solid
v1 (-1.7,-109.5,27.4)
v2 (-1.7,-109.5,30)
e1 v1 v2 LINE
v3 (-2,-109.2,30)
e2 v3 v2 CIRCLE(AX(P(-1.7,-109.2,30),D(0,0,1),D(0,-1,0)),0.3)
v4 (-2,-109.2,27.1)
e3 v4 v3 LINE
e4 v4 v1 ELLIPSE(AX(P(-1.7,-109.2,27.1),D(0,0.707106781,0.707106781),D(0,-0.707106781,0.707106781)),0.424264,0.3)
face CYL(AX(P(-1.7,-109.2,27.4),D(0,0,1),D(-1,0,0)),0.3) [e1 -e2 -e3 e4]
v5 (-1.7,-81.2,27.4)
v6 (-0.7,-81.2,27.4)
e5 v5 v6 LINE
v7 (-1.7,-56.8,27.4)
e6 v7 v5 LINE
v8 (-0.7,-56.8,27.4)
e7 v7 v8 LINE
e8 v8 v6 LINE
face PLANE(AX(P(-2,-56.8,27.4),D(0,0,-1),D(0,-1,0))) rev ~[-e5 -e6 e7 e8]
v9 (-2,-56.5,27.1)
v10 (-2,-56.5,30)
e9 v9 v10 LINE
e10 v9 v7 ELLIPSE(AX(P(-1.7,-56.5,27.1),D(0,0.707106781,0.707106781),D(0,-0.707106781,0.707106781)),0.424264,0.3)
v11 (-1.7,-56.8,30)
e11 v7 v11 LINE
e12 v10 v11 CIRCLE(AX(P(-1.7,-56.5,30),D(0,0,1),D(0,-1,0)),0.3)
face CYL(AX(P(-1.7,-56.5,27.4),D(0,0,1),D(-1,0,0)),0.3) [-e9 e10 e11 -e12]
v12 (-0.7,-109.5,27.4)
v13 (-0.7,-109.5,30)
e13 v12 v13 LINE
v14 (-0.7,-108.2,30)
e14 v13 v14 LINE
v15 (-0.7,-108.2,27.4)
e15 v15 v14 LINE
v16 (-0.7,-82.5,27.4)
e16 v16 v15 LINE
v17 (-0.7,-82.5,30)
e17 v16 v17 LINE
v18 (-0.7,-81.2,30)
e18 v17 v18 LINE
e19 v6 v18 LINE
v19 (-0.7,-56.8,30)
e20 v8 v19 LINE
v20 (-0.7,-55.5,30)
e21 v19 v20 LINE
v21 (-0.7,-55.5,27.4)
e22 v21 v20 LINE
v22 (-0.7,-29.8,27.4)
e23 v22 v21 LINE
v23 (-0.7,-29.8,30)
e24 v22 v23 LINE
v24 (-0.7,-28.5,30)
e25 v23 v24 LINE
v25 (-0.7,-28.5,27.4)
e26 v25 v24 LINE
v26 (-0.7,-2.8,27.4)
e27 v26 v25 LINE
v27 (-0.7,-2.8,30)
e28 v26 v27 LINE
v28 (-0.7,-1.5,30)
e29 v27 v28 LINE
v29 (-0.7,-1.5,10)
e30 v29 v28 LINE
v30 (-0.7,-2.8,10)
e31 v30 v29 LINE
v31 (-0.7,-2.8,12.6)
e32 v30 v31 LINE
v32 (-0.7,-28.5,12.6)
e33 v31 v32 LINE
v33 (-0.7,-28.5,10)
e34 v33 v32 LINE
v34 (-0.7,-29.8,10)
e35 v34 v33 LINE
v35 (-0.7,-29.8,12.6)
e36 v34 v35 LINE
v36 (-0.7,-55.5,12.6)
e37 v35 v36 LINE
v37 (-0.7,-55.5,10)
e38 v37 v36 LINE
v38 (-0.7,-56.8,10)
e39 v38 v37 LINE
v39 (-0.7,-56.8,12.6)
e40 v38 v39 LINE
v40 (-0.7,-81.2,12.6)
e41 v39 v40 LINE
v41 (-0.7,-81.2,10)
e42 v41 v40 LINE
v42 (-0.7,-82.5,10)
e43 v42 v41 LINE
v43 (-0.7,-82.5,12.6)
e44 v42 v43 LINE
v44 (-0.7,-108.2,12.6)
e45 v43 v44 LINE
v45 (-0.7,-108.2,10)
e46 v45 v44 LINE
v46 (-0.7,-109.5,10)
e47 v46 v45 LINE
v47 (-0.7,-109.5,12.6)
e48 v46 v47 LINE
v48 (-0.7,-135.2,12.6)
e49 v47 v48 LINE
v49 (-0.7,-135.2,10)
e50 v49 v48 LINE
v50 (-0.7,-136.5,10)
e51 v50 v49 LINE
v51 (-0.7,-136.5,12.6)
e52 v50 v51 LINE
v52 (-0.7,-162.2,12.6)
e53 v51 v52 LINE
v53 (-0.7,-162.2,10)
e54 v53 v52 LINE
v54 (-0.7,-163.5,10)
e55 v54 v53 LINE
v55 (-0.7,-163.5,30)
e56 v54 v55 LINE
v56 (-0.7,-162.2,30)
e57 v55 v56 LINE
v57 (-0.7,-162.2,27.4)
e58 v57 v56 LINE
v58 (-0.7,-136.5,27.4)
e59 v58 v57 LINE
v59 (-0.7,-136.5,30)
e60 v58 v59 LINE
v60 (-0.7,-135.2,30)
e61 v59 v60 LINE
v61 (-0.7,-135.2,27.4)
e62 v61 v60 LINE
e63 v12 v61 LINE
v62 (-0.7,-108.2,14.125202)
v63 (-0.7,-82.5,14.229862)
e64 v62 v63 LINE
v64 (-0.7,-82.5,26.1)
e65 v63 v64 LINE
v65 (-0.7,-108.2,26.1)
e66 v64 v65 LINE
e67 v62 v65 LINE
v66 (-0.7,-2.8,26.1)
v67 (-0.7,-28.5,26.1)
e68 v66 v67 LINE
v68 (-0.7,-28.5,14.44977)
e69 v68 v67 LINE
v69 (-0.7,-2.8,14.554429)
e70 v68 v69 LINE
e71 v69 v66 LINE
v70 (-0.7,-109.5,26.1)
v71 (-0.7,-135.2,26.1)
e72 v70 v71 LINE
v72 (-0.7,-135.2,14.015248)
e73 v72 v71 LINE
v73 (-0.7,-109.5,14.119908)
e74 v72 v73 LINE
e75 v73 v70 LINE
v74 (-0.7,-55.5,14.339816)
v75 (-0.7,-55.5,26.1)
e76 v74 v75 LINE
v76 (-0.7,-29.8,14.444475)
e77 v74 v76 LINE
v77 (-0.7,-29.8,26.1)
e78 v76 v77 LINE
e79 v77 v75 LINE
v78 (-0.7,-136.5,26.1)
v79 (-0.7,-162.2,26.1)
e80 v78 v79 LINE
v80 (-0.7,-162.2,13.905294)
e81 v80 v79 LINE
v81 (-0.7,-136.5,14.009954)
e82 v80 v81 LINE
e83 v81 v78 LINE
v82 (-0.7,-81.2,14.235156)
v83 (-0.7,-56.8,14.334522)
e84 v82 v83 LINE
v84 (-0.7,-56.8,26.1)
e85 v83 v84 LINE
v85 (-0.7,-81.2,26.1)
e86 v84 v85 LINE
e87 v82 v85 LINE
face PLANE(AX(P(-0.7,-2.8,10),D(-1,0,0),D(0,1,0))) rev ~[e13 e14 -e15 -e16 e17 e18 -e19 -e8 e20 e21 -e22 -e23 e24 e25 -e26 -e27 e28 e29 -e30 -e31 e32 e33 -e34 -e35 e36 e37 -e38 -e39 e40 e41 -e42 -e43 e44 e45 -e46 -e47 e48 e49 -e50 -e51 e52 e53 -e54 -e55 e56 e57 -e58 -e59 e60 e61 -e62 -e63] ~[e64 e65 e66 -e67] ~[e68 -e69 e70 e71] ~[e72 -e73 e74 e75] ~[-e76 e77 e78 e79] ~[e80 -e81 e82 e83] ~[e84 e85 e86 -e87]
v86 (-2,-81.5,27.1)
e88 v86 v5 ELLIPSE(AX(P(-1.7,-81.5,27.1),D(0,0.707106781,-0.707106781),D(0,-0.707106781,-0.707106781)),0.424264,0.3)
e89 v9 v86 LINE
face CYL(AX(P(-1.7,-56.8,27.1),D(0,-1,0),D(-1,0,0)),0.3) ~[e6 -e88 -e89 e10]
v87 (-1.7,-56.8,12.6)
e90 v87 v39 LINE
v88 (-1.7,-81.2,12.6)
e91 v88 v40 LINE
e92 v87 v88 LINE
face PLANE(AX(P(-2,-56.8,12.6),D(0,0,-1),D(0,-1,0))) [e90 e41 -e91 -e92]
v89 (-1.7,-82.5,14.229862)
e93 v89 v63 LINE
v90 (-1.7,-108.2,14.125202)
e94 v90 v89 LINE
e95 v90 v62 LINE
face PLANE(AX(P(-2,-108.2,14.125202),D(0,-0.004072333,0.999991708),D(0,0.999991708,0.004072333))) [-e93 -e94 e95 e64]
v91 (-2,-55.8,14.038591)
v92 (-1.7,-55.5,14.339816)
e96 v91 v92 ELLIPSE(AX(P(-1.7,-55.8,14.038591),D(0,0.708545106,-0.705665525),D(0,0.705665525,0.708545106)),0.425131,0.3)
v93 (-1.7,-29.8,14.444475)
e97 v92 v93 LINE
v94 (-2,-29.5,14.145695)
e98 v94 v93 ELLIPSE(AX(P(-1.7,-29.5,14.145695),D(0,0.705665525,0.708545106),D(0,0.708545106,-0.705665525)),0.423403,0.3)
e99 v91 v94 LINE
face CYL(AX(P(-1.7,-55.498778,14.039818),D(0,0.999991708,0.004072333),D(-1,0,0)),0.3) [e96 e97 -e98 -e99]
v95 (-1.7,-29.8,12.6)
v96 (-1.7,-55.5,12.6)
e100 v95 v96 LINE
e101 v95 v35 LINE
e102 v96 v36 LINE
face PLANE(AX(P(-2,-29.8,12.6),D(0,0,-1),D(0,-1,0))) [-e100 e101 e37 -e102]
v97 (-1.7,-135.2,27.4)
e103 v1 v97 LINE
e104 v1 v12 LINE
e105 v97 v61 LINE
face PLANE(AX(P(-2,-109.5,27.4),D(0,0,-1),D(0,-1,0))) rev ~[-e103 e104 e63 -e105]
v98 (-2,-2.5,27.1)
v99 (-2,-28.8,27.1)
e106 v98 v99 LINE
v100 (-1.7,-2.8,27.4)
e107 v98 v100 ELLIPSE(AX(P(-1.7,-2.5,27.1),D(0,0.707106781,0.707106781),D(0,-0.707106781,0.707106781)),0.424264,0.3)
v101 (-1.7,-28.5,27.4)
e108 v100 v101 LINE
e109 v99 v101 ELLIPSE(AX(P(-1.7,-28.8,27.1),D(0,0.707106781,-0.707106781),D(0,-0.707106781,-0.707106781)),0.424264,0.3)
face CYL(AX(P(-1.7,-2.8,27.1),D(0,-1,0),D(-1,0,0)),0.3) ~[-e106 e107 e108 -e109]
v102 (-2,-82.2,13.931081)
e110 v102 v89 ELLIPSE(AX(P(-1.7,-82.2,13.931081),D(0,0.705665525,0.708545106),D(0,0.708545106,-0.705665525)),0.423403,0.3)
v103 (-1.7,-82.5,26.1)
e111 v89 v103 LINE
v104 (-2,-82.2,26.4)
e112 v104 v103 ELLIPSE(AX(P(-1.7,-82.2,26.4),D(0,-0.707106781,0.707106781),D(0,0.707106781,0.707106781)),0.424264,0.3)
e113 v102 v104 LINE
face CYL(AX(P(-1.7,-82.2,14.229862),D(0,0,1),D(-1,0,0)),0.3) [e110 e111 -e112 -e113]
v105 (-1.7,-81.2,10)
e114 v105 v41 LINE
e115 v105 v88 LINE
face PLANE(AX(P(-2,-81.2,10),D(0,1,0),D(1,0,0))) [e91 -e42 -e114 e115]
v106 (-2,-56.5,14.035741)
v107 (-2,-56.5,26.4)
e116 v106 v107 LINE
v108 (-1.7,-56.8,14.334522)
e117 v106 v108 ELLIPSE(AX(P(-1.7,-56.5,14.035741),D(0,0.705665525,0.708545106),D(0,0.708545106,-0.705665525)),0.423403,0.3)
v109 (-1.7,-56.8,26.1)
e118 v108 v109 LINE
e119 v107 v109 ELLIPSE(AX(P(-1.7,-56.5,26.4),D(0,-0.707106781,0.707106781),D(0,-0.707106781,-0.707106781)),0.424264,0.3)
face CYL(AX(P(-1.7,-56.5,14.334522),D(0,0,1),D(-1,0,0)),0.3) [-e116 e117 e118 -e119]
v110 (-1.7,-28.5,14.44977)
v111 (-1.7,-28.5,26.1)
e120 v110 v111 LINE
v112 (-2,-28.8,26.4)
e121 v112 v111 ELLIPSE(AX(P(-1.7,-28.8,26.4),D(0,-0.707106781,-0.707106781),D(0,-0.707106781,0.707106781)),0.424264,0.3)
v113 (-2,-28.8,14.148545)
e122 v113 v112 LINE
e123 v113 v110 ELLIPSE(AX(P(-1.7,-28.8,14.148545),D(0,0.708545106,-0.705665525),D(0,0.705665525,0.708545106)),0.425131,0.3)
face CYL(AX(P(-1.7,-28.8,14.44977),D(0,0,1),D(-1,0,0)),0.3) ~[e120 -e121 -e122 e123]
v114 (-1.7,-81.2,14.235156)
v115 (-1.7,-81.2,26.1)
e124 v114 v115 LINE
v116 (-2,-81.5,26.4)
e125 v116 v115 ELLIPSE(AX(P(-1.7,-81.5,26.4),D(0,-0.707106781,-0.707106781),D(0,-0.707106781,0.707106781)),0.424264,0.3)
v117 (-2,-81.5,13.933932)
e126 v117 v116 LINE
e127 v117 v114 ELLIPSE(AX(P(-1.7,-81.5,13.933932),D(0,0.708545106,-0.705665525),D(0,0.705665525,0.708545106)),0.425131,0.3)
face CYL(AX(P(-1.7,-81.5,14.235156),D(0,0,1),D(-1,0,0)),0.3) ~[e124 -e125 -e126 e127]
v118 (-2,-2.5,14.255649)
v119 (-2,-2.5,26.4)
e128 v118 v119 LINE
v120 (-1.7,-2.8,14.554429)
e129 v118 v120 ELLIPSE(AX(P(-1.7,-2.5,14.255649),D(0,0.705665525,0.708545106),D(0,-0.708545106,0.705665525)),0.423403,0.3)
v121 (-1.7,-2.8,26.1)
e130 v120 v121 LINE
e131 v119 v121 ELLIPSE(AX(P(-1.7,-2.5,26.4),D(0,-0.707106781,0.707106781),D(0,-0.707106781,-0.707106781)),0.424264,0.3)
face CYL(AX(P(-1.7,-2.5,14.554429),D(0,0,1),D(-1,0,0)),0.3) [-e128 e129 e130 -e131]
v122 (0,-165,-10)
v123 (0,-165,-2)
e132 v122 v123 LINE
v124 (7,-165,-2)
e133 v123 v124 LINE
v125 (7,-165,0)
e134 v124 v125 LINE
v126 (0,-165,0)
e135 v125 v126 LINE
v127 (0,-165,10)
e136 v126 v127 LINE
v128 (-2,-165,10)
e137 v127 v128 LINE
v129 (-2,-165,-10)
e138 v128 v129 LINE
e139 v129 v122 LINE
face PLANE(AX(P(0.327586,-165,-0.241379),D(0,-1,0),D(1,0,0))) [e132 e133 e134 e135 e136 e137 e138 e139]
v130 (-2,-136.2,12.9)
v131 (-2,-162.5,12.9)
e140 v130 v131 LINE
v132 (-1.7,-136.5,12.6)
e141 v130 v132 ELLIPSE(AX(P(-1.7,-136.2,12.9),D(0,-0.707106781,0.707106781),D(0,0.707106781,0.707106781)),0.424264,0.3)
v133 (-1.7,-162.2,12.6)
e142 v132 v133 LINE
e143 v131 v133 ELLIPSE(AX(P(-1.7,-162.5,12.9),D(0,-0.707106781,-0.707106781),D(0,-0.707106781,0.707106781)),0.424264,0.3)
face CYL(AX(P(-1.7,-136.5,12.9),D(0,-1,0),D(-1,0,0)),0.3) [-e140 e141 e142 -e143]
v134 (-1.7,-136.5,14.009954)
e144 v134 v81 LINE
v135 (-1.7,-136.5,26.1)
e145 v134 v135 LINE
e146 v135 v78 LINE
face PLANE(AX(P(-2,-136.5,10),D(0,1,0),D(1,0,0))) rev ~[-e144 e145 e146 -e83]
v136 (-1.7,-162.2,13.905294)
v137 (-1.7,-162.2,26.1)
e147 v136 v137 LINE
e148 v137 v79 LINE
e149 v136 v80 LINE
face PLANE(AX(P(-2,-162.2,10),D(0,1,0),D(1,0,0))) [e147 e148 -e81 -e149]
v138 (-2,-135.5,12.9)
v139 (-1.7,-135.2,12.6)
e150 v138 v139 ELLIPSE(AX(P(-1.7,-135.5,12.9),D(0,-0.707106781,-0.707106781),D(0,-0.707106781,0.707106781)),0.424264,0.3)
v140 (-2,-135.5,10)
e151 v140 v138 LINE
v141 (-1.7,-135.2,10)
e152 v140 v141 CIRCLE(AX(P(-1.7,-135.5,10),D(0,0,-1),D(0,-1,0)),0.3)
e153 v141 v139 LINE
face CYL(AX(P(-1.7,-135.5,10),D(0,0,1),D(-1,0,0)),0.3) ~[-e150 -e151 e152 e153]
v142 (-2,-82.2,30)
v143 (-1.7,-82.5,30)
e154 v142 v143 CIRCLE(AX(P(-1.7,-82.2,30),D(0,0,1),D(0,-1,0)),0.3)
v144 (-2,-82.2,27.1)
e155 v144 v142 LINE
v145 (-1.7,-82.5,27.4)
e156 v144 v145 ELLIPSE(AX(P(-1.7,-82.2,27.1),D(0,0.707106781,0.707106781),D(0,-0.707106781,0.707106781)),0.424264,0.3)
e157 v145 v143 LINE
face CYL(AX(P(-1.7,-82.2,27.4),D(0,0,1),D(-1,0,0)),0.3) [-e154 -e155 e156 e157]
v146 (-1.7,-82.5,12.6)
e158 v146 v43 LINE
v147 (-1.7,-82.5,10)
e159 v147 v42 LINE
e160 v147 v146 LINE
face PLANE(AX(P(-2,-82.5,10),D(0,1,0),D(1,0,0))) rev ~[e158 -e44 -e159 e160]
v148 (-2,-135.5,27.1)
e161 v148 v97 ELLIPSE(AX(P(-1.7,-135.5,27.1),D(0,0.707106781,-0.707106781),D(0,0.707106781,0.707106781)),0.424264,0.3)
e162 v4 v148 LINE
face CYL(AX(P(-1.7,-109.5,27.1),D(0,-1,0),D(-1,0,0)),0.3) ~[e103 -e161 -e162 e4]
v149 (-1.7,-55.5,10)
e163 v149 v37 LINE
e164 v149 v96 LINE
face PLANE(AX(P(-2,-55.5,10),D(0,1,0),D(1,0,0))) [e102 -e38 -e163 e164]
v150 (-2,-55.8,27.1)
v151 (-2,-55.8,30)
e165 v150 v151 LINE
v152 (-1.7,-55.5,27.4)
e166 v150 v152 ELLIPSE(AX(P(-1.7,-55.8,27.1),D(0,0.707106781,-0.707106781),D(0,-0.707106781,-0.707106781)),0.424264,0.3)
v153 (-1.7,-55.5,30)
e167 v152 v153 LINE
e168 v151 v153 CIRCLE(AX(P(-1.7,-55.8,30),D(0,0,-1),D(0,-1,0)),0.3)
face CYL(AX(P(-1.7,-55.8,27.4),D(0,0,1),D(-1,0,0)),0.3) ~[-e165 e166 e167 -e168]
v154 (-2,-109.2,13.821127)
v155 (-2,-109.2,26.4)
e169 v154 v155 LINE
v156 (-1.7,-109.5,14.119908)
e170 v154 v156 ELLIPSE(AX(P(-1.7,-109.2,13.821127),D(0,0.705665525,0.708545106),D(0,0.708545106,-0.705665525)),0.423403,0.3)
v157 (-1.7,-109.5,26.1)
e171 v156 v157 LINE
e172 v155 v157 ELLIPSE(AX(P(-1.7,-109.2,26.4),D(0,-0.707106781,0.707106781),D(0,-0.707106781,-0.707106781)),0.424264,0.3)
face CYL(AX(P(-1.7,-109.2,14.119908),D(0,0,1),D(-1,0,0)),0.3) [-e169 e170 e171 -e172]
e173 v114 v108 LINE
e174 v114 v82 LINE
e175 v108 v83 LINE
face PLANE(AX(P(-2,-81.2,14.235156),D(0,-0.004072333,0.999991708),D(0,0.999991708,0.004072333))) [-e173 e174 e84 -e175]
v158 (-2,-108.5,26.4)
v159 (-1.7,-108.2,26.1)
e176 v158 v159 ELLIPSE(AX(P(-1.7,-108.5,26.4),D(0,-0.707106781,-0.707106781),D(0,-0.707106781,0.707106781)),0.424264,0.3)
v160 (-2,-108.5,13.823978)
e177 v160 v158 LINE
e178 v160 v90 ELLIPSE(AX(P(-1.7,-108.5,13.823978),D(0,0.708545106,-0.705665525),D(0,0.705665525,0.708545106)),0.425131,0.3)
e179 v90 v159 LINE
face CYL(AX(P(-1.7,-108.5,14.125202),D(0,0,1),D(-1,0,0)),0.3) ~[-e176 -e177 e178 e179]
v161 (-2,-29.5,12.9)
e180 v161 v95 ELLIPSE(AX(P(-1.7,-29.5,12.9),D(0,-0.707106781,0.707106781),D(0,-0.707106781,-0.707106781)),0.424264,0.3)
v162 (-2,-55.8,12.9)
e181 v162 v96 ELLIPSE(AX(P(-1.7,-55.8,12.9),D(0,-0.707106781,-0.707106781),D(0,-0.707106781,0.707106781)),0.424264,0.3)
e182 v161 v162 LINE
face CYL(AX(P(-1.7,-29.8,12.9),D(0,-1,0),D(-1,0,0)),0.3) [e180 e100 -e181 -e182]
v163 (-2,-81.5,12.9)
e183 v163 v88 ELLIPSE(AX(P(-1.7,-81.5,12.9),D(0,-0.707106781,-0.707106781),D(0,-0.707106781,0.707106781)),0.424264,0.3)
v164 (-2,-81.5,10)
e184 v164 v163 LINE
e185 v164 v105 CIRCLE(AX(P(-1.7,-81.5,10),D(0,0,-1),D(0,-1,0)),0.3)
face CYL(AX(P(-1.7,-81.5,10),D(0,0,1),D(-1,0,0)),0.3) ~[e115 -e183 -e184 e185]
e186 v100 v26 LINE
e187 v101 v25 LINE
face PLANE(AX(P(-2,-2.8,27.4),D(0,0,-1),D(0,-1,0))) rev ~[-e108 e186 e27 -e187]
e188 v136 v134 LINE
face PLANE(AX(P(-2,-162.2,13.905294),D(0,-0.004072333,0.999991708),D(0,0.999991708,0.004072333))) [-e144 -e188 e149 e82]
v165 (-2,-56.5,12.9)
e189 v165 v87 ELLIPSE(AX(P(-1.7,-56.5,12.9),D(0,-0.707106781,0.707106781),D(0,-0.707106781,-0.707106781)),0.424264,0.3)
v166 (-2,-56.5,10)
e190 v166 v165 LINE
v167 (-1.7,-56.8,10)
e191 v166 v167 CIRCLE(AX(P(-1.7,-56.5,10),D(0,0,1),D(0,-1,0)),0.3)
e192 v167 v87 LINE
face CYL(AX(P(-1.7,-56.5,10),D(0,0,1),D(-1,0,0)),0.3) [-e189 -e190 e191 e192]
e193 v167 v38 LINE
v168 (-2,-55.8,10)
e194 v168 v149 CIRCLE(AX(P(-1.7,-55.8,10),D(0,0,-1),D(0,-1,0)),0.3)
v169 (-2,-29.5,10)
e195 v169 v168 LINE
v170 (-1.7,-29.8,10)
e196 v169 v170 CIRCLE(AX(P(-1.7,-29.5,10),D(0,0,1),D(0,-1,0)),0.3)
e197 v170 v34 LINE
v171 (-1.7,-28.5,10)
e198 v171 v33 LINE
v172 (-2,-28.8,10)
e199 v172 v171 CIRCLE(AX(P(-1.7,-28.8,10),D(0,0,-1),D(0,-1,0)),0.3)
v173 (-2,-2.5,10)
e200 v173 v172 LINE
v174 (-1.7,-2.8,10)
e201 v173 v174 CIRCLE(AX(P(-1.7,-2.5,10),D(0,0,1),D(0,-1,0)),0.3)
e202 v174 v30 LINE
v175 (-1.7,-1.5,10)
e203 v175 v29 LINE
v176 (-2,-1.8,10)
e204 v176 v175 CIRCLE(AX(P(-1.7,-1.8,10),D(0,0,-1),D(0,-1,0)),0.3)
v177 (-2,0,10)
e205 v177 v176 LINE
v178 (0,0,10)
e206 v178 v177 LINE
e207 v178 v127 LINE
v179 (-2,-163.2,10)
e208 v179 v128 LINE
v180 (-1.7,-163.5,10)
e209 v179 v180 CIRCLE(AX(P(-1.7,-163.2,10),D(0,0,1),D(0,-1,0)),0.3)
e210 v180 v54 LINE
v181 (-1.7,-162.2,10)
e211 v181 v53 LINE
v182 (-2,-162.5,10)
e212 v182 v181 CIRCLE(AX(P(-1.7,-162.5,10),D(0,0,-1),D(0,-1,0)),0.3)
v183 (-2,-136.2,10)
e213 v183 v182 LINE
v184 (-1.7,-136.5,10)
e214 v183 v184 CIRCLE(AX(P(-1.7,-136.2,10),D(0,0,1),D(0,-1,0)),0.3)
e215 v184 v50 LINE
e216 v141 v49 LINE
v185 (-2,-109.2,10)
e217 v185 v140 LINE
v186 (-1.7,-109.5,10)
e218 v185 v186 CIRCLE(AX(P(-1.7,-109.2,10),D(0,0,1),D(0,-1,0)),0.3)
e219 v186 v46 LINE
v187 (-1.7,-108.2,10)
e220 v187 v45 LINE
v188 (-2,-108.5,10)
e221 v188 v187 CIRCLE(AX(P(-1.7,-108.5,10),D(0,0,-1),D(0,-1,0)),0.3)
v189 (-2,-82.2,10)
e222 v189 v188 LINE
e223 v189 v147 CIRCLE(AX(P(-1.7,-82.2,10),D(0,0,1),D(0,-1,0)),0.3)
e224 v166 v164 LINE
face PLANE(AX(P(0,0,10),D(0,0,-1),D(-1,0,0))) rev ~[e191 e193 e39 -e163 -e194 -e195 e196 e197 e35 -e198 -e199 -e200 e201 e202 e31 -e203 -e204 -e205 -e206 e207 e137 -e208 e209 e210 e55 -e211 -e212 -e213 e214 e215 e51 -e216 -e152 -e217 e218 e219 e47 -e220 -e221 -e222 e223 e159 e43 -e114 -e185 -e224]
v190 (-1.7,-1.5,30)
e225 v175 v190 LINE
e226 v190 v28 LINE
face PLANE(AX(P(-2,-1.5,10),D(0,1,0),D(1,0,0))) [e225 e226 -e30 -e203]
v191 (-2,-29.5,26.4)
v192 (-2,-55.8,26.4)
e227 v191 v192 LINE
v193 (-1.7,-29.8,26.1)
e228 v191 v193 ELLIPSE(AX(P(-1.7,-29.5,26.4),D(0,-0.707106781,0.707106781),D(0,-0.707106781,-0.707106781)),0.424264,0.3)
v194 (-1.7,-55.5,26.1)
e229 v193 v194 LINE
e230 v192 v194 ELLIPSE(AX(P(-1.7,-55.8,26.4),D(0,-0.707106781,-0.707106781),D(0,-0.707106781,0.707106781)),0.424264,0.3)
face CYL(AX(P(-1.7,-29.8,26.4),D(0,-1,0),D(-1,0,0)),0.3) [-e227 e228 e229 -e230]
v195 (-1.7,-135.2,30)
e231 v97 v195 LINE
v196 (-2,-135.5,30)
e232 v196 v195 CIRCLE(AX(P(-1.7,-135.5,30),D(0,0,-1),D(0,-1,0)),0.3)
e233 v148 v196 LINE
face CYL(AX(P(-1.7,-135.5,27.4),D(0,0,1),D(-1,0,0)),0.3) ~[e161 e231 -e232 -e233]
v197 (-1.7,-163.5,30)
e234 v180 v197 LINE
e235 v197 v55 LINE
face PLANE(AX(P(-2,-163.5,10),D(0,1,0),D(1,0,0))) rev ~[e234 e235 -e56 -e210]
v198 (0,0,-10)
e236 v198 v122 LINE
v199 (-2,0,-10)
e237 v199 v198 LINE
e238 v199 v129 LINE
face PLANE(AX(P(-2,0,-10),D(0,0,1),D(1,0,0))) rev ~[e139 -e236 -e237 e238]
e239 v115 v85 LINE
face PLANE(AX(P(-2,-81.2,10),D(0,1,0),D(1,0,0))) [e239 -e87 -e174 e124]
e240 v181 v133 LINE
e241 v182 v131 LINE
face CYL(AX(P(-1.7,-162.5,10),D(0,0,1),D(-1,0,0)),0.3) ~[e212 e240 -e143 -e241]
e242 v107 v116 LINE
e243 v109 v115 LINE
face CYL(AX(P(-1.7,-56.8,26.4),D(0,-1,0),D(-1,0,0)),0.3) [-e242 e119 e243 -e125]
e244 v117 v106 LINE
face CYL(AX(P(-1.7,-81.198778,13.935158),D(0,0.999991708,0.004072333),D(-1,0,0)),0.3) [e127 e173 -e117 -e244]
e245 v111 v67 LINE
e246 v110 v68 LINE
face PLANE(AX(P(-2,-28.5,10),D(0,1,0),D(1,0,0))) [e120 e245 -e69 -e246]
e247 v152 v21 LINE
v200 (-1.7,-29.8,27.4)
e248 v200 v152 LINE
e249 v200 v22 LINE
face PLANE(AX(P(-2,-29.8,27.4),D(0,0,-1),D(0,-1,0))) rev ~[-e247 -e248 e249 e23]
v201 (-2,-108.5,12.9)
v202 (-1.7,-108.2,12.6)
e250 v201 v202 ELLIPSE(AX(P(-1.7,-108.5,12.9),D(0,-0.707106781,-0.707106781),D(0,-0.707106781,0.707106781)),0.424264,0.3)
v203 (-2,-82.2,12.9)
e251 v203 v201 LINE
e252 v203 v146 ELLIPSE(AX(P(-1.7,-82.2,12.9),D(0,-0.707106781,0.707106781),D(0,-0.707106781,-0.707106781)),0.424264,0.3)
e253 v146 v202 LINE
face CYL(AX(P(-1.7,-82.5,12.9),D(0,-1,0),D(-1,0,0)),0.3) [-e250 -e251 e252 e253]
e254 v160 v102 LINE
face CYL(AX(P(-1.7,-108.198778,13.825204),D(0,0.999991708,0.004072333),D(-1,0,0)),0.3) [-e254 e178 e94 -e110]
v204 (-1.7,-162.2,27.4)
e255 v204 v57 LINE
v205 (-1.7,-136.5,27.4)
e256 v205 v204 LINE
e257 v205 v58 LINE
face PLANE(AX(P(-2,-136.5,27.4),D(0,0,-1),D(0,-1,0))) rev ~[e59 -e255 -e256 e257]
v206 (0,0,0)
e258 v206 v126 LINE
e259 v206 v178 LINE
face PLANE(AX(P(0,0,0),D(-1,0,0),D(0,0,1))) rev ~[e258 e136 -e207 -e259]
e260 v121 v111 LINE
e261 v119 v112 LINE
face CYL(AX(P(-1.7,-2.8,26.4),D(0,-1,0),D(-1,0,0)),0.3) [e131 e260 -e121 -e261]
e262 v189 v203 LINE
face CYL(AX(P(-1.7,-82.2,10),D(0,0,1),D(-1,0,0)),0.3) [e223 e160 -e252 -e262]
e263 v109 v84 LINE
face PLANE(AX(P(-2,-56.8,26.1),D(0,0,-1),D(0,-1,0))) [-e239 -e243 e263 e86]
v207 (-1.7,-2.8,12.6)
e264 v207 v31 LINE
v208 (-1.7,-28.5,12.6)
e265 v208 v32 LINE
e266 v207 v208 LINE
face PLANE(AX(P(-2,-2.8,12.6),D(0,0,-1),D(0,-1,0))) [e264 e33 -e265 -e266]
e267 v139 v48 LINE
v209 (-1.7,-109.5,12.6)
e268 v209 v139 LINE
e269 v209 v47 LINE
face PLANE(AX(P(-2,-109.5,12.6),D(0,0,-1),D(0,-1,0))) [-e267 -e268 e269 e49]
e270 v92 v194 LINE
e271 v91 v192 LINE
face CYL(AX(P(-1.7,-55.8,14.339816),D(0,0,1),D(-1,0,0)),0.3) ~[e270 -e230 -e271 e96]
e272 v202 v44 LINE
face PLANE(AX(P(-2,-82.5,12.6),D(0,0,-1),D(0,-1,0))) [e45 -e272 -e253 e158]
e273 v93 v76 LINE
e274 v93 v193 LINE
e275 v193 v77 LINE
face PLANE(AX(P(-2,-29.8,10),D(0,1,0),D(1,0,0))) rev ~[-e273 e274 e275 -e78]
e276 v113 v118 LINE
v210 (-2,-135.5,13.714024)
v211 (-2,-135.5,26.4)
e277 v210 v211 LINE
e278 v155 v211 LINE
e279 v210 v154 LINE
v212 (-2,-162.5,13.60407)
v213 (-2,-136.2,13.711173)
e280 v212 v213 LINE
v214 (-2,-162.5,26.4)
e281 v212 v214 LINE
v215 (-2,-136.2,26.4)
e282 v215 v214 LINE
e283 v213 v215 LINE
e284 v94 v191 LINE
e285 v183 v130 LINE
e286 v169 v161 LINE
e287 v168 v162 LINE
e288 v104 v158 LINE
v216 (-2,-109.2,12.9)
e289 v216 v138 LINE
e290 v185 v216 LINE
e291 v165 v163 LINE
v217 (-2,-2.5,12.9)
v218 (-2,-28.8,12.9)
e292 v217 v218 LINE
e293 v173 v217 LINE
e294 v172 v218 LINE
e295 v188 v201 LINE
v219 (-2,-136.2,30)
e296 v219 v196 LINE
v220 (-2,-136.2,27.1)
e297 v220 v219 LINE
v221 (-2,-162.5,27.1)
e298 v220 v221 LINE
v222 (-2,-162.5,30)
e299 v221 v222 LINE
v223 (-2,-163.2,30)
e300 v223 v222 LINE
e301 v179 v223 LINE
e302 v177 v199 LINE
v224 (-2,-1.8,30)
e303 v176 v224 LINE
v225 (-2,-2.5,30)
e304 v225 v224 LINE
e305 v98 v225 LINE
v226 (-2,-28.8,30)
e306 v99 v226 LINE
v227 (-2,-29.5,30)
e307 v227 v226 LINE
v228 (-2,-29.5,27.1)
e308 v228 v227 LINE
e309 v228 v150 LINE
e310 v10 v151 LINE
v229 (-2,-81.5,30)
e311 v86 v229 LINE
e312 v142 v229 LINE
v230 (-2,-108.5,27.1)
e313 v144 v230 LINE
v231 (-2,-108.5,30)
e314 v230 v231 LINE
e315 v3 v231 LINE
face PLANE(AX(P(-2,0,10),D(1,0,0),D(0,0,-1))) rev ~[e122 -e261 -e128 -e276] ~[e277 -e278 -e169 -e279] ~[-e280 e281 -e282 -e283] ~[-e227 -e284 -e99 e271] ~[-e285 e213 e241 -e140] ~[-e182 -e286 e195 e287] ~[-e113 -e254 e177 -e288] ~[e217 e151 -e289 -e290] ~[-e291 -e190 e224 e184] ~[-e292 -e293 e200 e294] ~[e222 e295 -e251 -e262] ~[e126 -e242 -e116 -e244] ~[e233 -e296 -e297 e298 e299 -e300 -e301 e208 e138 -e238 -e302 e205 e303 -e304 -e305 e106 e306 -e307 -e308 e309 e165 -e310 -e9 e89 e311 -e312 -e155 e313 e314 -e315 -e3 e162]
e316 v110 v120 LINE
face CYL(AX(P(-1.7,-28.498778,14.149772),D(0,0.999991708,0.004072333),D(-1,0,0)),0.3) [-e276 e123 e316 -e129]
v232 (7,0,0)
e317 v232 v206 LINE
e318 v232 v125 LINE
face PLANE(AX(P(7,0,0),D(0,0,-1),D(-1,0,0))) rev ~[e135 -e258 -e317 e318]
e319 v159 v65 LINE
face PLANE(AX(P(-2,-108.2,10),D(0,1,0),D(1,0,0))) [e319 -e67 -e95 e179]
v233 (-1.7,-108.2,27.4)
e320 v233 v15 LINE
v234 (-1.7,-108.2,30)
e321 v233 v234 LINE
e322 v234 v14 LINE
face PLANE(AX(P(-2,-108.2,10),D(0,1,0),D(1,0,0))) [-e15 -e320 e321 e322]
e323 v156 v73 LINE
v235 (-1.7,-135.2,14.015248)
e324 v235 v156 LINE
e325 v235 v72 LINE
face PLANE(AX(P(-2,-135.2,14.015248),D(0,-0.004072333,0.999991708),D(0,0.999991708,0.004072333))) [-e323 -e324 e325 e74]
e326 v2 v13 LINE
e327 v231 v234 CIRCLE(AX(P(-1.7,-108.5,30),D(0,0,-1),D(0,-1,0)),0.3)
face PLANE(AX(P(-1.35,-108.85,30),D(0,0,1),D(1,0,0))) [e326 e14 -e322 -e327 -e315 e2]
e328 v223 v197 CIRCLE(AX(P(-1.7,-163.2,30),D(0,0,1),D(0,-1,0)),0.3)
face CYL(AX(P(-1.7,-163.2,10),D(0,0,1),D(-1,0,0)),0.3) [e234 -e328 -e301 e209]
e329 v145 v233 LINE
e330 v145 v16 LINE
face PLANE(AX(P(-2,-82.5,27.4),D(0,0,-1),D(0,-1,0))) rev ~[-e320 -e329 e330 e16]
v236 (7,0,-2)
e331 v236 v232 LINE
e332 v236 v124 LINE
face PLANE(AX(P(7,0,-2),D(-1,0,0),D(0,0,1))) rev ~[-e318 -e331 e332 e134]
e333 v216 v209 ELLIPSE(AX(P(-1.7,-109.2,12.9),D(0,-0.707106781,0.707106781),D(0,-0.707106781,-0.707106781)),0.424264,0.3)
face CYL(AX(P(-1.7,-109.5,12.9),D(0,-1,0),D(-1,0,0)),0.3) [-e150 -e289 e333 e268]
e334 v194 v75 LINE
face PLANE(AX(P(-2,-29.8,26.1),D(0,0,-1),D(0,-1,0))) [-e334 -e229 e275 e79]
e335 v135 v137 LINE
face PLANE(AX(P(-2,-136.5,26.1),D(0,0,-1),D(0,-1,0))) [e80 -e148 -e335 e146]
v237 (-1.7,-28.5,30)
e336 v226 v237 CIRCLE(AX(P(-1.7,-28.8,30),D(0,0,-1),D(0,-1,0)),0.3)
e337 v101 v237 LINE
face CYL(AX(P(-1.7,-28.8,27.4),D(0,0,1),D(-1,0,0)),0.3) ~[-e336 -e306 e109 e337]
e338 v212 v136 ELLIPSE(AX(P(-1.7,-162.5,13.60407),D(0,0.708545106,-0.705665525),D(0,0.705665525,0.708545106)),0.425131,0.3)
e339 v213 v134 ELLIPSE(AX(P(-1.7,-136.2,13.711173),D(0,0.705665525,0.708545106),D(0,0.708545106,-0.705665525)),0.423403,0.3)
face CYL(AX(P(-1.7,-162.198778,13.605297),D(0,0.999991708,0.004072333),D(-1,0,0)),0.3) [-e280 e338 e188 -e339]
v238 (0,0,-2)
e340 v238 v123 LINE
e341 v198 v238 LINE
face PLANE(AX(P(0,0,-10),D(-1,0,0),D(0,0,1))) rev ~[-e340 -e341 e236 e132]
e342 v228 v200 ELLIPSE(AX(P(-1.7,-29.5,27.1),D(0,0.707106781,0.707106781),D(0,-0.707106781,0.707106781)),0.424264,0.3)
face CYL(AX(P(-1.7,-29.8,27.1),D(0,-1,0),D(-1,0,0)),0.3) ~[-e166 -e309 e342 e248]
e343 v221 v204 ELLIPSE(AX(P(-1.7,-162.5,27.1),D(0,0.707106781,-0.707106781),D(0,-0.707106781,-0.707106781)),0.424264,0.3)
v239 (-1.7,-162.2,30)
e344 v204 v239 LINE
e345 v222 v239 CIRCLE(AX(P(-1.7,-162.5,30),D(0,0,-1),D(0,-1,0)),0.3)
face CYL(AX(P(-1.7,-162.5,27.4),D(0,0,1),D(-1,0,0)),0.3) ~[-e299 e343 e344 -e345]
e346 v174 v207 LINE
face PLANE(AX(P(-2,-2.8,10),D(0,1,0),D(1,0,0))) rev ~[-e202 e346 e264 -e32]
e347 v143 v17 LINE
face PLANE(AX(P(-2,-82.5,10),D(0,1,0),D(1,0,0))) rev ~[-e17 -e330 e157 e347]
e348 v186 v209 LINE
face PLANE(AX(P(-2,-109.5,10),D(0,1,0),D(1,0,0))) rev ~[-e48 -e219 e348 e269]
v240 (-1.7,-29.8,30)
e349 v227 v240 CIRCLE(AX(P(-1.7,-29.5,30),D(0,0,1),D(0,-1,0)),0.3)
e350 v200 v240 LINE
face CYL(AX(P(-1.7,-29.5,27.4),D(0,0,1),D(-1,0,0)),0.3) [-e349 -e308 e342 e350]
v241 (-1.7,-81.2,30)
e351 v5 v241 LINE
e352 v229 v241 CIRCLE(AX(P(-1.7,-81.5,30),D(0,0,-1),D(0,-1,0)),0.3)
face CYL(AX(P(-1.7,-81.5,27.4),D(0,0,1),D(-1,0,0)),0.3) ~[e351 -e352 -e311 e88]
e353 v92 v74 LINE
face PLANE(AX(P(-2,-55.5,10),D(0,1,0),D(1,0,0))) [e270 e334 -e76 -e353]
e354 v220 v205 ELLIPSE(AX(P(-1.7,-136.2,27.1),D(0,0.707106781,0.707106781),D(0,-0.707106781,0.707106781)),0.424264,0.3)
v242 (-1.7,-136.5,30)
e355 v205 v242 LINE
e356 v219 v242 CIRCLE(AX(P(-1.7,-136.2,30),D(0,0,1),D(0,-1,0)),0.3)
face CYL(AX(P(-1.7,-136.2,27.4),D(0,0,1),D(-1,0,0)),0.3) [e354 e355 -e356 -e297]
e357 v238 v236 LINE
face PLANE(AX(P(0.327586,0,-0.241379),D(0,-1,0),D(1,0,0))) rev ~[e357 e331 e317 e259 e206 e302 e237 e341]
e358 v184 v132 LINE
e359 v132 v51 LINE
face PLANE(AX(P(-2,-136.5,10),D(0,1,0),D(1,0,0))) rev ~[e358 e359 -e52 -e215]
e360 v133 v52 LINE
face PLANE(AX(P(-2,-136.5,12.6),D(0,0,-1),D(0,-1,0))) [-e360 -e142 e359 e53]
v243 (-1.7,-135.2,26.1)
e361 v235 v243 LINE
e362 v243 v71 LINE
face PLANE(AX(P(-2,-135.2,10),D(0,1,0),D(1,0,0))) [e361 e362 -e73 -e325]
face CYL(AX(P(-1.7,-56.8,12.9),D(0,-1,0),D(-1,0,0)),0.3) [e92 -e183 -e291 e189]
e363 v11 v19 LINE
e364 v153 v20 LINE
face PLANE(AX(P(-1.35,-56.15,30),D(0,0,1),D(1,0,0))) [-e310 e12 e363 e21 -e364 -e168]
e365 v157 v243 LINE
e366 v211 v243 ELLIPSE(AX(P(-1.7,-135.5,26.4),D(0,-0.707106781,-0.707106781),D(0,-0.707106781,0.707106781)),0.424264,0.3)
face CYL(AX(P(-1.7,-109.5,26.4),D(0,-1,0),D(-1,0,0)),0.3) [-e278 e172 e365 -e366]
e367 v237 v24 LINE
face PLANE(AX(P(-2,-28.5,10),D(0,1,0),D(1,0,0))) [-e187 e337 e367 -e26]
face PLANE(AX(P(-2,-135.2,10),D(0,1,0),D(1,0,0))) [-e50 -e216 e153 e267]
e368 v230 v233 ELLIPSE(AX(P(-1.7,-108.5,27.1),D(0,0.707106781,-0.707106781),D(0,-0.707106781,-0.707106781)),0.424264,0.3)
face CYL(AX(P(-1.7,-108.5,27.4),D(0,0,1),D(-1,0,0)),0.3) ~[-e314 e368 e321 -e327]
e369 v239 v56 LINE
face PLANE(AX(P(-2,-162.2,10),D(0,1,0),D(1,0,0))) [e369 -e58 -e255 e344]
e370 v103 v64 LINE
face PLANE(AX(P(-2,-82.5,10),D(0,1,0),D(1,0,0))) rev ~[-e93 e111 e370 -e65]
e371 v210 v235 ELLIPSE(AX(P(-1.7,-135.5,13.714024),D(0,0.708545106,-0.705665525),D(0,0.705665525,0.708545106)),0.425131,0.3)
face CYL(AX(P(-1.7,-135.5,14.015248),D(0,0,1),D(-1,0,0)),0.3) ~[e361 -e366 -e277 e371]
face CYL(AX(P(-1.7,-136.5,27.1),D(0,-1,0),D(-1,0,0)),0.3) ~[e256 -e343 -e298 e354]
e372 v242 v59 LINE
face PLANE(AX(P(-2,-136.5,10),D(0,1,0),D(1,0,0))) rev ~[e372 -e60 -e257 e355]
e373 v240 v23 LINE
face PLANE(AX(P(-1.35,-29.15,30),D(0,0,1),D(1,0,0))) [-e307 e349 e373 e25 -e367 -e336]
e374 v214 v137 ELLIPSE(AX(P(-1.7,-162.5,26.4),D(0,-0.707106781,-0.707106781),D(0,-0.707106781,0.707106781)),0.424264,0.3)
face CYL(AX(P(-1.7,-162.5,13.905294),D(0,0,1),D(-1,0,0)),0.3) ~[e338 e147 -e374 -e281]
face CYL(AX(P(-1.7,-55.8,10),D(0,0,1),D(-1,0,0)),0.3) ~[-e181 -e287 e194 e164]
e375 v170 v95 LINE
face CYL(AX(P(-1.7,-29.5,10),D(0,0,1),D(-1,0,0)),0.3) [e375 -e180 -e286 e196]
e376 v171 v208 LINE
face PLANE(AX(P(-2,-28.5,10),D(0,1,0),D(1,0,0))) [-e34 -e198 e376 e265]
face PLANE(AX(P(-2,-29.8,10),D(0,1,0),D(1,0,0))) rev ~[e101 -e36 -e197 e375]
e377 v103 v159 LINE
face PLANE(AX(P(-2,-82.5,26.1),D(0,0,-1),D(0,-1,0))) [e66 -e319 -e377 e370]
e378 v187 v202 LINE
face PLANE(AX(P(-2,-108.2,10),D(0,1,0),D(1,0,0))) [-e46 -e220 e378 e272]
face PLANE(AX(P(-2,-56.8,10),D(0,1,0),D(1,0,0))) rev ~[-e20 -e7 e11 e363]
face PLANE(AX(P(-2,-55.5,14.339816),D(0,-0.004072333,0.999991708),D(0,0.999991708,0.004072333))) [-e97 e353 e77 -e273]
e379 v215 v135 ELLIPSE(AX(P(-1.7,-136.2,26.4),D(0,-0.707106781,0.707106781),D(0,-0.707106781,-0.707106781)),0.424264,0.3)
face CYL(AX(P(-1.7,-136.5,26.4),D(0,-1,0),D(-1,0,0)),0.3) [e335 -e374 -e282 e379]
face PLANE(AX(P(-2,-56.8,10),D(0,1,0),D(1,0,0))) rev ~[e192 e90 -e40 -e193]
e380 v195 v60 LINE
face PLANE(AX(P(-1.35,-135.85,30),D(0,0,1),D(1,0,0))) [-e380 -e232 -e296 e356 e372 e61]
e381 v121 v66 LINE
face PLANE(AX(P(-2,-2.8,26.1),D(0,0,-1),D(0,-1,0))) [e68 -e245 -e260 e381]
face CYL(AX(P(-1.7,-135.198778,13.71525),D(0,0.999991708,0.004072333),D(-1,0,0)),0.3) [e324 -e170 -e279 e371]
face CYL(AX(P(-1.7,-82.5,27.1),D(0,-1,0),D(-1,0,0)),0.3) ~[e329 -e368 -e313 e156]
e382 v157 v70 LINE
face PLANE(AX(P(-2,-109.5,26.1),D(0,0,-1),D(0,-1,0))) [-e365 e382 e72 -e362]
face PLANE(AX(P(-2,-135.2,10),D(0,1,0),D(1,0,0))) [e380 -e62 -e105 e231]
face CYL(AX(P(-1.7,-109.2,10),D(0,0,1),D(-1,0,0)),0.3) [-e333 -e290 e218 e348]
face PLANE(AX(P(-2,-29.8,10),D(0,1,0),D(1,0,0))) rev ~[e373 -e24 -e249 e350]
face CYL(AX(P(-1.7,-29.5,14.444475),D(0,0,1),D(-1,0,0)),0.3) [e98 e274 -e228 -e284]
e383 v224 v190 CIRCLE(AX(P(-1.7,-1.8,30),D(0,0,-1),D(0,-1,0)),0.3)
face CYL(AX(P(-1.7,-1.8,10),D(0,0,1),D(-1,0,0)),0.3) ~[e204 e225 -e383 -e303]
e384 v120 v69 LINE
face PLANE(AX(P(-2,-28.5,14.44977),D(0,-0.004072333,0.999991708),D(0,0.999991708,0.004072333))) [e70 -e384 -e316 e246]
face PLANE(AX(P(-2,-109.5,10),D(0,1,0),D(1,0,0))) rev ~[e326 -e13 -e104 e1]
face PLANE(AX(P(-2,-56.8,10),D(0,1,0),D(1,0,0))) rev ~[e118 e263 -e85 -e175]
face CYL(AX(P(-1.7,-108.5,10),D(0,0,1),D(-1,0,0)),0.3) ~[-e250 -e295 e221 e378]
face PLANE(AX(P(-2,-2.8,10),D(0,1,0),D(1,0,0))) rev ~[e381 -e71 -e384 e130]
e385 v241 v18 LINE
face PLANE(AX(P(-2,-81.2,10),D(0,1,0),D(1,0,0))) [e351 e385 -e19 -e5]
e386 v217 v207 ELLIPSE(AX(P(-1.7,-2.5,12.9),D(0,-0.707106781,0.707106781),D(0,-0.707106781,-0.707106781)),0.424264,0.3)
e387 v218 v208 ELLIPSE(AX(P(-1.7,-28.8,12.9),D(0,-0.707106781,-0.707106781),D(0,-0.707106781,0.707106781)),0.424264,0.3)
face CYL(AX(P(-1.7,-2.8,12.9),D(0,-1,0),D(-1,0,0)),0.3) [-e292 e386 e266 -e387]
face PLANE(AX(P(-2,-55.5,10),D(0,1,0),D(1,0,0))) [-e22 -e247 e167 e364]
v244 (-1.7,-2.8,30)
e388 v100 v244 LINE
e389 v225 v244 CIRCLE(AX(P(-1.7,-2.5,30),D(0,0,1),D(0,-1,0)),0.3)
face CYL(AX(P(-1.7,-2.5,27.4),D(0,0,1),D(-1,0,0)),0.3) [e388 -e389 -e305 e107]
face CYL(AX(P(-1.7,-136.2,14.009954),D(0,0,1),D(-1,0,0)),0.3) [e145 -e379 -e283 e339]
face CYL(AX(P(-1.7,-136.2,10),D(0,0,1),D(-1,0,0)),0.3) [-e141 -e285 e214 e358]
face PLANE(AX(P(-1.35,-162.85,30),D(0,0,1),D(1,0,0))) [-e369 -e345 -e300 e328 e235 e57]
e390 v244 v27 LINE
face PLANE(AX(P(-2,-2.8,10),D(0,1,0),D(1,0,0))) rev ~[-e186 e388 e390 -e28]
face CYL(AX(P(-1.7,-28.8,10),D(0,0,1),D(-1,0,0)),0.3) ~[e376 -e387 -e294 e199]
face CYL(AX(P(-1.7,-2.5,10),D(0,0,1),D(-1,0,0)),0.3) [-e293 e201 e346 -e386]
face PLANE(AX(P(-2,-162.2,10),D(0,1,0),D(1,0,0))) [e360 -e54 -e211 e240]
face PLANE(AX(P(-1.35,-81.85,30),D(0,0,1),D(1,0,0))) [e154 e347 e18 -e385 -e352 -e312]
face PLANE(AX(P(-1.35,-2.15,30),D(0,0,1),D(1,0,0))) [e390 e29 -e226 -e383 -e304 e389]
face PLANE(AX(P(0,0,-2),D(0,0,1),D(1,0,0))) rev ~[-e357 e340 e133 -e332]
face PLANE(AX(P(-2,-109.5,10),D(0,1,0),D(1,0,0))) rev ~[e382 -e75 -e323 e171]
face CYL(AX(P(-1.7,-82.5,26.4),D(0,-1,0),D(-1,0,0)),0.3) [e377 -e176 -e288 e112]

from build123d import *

# Parameters (mm, degrees)
F1_DEPTH = 165
F2_W     = 1.3
F2_H     = 1.3
F3_DEPTH = 20
F4_W     = 25.7
F4_H     = 1.3
F4_W_2   = 24.4
F5_DEPTH = 1.3
F6_R     = 0.3


with BuildPart() as f1:
    # F0 (on Front) → F1 (new body)
    with BuildSketch(Plane.XZ):
        Polygon((7, 0), (0, 0), (0, 10), (-2, 10), (-2, -10), (0, -10), (0, -2), (7, -2), align=None)
    extrude(amount=F1_DEPTH)

    # F2 (on face) → F3 (join)
    with BuildSketch(Plane.XY.offset(10)):
        with Locations((-1.35, -2.15)):
            Rectangle(F2_W, F2_H)
        with Locations((-1.35, -29.15)):
            Rectangle(F2_W, F2_H)
        with Locations((-1.35, -56.15)):
            Rectangle(F2_W, F2_H)
        with Locations((-1.35, -81.85)):
            Rectangle(F2_W, F2_H)
        with Locations((-1.35, -108.85)):
            Rectangle(F2_W, F2_H)
        with Locations((-1.35, -135.85)):
            Rectangle(F2_W, F2_H)
        with Locations((-1.35, -162.85)):
            Rectangle(F2_W, F2_H)
    extrude(amount=F3_DEPTH)

    # F4 (on face) → F5 (join)
    with BuildSketch(Plane(origin=(-2, 0, 0), x_dir=(0, -1, 0), z_dir=(-1, 0, 0))):
        Polygon((2.8, 14.5544293599), (2.8, 12.6), (28.5, 12.6), (28.5, 14.4497695307), align=None)
        with Locations((15.65, 26.75)):
            Rectangle(F4_W, F4_H)
        with Locations((42.65, 26.75)):
            Rectangle(F4_W, F4_H)
        Polygon((29.8, 14.4444754537), (29.8, 12.6), (55.5, 12.6), (55.5, 14.3398156246), align=None)
        with Locations((69, 26.75)):
            Rectangle(F4_W_2, F4_H)
        Polygon((56.8, 14.3345215476), (56.8, 12.6), (81.2, 12.6), (81.2, 14.2351557954), align=None)
        Polygon((82.5, 14.2298617184), (82.5, 12.6), (108.2, 12.6), (108.2, 14.1252018892), align=None)
        with Locations((95.35, 26.75)):
            Rectangle(F4_W, F4_H)
        with Locations((122.35, 26.75)):
            Rectangle(F4_W, F4_H)
        Polygon((109.5, 12.6), (135.2, 12.6), (135.2, 14.0152479831), (109.5, 14.1199078123), align=None)
        Polygon((136.5, 12.6), (162.2, 12.6), (162.2, 13.905294077), (136.5, 14.0099539061), align=None)
        with Locations((149.35, 26.75)):
            Rectangle(F4_W, F4_H)
    extrude(amount=-F5_DEPTH)

    # F6
    f6_edges = [f1.edges().sort_by_distance(p)[0] for p in [
        (-2, -135.2, 11.3),
        (-2, -136.5, 11.3),
        (-2, -149.35, 12.6),
        (-2, -149.35, 13.957624),
        (-2, -162.2, 11.3),
        (-2, -163.5, 20),
        (-2, -162.2, 20.002647),
        (-2, -149.35, 27.4),
        (-2, -149.35, 26.1),
        (-2, -136.5, 20.054977),
        (-2, -136.5, 28.7),
        (-2, -135.2, 28.7),
        (-2, -135.2, 20.057624),
        (-2, -122.35, 14.067578),
        (-2, -122.35, 12.6),
        (-2, -122.35, 26.1),
        (-2, -122.35, 27.4),
        (-2, -162.2, 28.7),
        (-2, -109.5, 28.7),
        (-2, -95.35, 27.4),
        (-2, -95.35, 14.177532),
        (-2, -108.2, 20.112601),
        (-2, -95.35, 12.6),
        (-2, -108.2, 11.3),
        (-2, -82.5, 20.164931),
        (-2, -82.5, 28.7),
        (-2, -69, 27.4),
        (-2, -69, 26.1),
        (-2, -81.2, 20.167578),
        (-2, -69, 14.284839),
        (-2, -69, 12.6),
        (-2, -82.5, 11.3),
        (-2, -81.2, 28.7),
        (-2, -81.2, 11.3),
        (-2, -56.8, 28.7),
        (-2, -56.8, 20.217261),
        (-2, -56.8, 11.3),
        (-2, -42.65, 12.6),
        (-2, -42.65, 14.392146),
        (-2, -55.5, 20.219908),
        (-2, -42.65, 26.1),
        (-2, -42.65, 27.4),
        (-2, -55.5, 28.7),
        (-2, -29.8, 28.7),
        (-2, -15.65, 27.4),
        (-2, -15.65, 26.1),
        (-2, -29.8, 20.272238),
        (-2, -28.5, 20.274885),
        (-2, -29.8, 11.3),
        (-2, -28.5, 28.7),
        (-2, -2.8, 28.7),
        (-2, -1.5, 20),
        (-2, -2.8, 20.327215),
        (-2, -15.65, 14.502099),
        (-2, -15.65, 12.6),
        (-2, -2.8, 11.3),
        (-2, -28.5, 11.3),
        (-2, -55.5, 11.3),
        (-2, -95.35, 26.1),
        (-2, -109.5, 11.3),
        (-2, -109.5, 20.109954),
        (-2, -108.2, 28.7),
    ]]
    fillet(f6_edges, radius=F6_R)


solid = f1.part
